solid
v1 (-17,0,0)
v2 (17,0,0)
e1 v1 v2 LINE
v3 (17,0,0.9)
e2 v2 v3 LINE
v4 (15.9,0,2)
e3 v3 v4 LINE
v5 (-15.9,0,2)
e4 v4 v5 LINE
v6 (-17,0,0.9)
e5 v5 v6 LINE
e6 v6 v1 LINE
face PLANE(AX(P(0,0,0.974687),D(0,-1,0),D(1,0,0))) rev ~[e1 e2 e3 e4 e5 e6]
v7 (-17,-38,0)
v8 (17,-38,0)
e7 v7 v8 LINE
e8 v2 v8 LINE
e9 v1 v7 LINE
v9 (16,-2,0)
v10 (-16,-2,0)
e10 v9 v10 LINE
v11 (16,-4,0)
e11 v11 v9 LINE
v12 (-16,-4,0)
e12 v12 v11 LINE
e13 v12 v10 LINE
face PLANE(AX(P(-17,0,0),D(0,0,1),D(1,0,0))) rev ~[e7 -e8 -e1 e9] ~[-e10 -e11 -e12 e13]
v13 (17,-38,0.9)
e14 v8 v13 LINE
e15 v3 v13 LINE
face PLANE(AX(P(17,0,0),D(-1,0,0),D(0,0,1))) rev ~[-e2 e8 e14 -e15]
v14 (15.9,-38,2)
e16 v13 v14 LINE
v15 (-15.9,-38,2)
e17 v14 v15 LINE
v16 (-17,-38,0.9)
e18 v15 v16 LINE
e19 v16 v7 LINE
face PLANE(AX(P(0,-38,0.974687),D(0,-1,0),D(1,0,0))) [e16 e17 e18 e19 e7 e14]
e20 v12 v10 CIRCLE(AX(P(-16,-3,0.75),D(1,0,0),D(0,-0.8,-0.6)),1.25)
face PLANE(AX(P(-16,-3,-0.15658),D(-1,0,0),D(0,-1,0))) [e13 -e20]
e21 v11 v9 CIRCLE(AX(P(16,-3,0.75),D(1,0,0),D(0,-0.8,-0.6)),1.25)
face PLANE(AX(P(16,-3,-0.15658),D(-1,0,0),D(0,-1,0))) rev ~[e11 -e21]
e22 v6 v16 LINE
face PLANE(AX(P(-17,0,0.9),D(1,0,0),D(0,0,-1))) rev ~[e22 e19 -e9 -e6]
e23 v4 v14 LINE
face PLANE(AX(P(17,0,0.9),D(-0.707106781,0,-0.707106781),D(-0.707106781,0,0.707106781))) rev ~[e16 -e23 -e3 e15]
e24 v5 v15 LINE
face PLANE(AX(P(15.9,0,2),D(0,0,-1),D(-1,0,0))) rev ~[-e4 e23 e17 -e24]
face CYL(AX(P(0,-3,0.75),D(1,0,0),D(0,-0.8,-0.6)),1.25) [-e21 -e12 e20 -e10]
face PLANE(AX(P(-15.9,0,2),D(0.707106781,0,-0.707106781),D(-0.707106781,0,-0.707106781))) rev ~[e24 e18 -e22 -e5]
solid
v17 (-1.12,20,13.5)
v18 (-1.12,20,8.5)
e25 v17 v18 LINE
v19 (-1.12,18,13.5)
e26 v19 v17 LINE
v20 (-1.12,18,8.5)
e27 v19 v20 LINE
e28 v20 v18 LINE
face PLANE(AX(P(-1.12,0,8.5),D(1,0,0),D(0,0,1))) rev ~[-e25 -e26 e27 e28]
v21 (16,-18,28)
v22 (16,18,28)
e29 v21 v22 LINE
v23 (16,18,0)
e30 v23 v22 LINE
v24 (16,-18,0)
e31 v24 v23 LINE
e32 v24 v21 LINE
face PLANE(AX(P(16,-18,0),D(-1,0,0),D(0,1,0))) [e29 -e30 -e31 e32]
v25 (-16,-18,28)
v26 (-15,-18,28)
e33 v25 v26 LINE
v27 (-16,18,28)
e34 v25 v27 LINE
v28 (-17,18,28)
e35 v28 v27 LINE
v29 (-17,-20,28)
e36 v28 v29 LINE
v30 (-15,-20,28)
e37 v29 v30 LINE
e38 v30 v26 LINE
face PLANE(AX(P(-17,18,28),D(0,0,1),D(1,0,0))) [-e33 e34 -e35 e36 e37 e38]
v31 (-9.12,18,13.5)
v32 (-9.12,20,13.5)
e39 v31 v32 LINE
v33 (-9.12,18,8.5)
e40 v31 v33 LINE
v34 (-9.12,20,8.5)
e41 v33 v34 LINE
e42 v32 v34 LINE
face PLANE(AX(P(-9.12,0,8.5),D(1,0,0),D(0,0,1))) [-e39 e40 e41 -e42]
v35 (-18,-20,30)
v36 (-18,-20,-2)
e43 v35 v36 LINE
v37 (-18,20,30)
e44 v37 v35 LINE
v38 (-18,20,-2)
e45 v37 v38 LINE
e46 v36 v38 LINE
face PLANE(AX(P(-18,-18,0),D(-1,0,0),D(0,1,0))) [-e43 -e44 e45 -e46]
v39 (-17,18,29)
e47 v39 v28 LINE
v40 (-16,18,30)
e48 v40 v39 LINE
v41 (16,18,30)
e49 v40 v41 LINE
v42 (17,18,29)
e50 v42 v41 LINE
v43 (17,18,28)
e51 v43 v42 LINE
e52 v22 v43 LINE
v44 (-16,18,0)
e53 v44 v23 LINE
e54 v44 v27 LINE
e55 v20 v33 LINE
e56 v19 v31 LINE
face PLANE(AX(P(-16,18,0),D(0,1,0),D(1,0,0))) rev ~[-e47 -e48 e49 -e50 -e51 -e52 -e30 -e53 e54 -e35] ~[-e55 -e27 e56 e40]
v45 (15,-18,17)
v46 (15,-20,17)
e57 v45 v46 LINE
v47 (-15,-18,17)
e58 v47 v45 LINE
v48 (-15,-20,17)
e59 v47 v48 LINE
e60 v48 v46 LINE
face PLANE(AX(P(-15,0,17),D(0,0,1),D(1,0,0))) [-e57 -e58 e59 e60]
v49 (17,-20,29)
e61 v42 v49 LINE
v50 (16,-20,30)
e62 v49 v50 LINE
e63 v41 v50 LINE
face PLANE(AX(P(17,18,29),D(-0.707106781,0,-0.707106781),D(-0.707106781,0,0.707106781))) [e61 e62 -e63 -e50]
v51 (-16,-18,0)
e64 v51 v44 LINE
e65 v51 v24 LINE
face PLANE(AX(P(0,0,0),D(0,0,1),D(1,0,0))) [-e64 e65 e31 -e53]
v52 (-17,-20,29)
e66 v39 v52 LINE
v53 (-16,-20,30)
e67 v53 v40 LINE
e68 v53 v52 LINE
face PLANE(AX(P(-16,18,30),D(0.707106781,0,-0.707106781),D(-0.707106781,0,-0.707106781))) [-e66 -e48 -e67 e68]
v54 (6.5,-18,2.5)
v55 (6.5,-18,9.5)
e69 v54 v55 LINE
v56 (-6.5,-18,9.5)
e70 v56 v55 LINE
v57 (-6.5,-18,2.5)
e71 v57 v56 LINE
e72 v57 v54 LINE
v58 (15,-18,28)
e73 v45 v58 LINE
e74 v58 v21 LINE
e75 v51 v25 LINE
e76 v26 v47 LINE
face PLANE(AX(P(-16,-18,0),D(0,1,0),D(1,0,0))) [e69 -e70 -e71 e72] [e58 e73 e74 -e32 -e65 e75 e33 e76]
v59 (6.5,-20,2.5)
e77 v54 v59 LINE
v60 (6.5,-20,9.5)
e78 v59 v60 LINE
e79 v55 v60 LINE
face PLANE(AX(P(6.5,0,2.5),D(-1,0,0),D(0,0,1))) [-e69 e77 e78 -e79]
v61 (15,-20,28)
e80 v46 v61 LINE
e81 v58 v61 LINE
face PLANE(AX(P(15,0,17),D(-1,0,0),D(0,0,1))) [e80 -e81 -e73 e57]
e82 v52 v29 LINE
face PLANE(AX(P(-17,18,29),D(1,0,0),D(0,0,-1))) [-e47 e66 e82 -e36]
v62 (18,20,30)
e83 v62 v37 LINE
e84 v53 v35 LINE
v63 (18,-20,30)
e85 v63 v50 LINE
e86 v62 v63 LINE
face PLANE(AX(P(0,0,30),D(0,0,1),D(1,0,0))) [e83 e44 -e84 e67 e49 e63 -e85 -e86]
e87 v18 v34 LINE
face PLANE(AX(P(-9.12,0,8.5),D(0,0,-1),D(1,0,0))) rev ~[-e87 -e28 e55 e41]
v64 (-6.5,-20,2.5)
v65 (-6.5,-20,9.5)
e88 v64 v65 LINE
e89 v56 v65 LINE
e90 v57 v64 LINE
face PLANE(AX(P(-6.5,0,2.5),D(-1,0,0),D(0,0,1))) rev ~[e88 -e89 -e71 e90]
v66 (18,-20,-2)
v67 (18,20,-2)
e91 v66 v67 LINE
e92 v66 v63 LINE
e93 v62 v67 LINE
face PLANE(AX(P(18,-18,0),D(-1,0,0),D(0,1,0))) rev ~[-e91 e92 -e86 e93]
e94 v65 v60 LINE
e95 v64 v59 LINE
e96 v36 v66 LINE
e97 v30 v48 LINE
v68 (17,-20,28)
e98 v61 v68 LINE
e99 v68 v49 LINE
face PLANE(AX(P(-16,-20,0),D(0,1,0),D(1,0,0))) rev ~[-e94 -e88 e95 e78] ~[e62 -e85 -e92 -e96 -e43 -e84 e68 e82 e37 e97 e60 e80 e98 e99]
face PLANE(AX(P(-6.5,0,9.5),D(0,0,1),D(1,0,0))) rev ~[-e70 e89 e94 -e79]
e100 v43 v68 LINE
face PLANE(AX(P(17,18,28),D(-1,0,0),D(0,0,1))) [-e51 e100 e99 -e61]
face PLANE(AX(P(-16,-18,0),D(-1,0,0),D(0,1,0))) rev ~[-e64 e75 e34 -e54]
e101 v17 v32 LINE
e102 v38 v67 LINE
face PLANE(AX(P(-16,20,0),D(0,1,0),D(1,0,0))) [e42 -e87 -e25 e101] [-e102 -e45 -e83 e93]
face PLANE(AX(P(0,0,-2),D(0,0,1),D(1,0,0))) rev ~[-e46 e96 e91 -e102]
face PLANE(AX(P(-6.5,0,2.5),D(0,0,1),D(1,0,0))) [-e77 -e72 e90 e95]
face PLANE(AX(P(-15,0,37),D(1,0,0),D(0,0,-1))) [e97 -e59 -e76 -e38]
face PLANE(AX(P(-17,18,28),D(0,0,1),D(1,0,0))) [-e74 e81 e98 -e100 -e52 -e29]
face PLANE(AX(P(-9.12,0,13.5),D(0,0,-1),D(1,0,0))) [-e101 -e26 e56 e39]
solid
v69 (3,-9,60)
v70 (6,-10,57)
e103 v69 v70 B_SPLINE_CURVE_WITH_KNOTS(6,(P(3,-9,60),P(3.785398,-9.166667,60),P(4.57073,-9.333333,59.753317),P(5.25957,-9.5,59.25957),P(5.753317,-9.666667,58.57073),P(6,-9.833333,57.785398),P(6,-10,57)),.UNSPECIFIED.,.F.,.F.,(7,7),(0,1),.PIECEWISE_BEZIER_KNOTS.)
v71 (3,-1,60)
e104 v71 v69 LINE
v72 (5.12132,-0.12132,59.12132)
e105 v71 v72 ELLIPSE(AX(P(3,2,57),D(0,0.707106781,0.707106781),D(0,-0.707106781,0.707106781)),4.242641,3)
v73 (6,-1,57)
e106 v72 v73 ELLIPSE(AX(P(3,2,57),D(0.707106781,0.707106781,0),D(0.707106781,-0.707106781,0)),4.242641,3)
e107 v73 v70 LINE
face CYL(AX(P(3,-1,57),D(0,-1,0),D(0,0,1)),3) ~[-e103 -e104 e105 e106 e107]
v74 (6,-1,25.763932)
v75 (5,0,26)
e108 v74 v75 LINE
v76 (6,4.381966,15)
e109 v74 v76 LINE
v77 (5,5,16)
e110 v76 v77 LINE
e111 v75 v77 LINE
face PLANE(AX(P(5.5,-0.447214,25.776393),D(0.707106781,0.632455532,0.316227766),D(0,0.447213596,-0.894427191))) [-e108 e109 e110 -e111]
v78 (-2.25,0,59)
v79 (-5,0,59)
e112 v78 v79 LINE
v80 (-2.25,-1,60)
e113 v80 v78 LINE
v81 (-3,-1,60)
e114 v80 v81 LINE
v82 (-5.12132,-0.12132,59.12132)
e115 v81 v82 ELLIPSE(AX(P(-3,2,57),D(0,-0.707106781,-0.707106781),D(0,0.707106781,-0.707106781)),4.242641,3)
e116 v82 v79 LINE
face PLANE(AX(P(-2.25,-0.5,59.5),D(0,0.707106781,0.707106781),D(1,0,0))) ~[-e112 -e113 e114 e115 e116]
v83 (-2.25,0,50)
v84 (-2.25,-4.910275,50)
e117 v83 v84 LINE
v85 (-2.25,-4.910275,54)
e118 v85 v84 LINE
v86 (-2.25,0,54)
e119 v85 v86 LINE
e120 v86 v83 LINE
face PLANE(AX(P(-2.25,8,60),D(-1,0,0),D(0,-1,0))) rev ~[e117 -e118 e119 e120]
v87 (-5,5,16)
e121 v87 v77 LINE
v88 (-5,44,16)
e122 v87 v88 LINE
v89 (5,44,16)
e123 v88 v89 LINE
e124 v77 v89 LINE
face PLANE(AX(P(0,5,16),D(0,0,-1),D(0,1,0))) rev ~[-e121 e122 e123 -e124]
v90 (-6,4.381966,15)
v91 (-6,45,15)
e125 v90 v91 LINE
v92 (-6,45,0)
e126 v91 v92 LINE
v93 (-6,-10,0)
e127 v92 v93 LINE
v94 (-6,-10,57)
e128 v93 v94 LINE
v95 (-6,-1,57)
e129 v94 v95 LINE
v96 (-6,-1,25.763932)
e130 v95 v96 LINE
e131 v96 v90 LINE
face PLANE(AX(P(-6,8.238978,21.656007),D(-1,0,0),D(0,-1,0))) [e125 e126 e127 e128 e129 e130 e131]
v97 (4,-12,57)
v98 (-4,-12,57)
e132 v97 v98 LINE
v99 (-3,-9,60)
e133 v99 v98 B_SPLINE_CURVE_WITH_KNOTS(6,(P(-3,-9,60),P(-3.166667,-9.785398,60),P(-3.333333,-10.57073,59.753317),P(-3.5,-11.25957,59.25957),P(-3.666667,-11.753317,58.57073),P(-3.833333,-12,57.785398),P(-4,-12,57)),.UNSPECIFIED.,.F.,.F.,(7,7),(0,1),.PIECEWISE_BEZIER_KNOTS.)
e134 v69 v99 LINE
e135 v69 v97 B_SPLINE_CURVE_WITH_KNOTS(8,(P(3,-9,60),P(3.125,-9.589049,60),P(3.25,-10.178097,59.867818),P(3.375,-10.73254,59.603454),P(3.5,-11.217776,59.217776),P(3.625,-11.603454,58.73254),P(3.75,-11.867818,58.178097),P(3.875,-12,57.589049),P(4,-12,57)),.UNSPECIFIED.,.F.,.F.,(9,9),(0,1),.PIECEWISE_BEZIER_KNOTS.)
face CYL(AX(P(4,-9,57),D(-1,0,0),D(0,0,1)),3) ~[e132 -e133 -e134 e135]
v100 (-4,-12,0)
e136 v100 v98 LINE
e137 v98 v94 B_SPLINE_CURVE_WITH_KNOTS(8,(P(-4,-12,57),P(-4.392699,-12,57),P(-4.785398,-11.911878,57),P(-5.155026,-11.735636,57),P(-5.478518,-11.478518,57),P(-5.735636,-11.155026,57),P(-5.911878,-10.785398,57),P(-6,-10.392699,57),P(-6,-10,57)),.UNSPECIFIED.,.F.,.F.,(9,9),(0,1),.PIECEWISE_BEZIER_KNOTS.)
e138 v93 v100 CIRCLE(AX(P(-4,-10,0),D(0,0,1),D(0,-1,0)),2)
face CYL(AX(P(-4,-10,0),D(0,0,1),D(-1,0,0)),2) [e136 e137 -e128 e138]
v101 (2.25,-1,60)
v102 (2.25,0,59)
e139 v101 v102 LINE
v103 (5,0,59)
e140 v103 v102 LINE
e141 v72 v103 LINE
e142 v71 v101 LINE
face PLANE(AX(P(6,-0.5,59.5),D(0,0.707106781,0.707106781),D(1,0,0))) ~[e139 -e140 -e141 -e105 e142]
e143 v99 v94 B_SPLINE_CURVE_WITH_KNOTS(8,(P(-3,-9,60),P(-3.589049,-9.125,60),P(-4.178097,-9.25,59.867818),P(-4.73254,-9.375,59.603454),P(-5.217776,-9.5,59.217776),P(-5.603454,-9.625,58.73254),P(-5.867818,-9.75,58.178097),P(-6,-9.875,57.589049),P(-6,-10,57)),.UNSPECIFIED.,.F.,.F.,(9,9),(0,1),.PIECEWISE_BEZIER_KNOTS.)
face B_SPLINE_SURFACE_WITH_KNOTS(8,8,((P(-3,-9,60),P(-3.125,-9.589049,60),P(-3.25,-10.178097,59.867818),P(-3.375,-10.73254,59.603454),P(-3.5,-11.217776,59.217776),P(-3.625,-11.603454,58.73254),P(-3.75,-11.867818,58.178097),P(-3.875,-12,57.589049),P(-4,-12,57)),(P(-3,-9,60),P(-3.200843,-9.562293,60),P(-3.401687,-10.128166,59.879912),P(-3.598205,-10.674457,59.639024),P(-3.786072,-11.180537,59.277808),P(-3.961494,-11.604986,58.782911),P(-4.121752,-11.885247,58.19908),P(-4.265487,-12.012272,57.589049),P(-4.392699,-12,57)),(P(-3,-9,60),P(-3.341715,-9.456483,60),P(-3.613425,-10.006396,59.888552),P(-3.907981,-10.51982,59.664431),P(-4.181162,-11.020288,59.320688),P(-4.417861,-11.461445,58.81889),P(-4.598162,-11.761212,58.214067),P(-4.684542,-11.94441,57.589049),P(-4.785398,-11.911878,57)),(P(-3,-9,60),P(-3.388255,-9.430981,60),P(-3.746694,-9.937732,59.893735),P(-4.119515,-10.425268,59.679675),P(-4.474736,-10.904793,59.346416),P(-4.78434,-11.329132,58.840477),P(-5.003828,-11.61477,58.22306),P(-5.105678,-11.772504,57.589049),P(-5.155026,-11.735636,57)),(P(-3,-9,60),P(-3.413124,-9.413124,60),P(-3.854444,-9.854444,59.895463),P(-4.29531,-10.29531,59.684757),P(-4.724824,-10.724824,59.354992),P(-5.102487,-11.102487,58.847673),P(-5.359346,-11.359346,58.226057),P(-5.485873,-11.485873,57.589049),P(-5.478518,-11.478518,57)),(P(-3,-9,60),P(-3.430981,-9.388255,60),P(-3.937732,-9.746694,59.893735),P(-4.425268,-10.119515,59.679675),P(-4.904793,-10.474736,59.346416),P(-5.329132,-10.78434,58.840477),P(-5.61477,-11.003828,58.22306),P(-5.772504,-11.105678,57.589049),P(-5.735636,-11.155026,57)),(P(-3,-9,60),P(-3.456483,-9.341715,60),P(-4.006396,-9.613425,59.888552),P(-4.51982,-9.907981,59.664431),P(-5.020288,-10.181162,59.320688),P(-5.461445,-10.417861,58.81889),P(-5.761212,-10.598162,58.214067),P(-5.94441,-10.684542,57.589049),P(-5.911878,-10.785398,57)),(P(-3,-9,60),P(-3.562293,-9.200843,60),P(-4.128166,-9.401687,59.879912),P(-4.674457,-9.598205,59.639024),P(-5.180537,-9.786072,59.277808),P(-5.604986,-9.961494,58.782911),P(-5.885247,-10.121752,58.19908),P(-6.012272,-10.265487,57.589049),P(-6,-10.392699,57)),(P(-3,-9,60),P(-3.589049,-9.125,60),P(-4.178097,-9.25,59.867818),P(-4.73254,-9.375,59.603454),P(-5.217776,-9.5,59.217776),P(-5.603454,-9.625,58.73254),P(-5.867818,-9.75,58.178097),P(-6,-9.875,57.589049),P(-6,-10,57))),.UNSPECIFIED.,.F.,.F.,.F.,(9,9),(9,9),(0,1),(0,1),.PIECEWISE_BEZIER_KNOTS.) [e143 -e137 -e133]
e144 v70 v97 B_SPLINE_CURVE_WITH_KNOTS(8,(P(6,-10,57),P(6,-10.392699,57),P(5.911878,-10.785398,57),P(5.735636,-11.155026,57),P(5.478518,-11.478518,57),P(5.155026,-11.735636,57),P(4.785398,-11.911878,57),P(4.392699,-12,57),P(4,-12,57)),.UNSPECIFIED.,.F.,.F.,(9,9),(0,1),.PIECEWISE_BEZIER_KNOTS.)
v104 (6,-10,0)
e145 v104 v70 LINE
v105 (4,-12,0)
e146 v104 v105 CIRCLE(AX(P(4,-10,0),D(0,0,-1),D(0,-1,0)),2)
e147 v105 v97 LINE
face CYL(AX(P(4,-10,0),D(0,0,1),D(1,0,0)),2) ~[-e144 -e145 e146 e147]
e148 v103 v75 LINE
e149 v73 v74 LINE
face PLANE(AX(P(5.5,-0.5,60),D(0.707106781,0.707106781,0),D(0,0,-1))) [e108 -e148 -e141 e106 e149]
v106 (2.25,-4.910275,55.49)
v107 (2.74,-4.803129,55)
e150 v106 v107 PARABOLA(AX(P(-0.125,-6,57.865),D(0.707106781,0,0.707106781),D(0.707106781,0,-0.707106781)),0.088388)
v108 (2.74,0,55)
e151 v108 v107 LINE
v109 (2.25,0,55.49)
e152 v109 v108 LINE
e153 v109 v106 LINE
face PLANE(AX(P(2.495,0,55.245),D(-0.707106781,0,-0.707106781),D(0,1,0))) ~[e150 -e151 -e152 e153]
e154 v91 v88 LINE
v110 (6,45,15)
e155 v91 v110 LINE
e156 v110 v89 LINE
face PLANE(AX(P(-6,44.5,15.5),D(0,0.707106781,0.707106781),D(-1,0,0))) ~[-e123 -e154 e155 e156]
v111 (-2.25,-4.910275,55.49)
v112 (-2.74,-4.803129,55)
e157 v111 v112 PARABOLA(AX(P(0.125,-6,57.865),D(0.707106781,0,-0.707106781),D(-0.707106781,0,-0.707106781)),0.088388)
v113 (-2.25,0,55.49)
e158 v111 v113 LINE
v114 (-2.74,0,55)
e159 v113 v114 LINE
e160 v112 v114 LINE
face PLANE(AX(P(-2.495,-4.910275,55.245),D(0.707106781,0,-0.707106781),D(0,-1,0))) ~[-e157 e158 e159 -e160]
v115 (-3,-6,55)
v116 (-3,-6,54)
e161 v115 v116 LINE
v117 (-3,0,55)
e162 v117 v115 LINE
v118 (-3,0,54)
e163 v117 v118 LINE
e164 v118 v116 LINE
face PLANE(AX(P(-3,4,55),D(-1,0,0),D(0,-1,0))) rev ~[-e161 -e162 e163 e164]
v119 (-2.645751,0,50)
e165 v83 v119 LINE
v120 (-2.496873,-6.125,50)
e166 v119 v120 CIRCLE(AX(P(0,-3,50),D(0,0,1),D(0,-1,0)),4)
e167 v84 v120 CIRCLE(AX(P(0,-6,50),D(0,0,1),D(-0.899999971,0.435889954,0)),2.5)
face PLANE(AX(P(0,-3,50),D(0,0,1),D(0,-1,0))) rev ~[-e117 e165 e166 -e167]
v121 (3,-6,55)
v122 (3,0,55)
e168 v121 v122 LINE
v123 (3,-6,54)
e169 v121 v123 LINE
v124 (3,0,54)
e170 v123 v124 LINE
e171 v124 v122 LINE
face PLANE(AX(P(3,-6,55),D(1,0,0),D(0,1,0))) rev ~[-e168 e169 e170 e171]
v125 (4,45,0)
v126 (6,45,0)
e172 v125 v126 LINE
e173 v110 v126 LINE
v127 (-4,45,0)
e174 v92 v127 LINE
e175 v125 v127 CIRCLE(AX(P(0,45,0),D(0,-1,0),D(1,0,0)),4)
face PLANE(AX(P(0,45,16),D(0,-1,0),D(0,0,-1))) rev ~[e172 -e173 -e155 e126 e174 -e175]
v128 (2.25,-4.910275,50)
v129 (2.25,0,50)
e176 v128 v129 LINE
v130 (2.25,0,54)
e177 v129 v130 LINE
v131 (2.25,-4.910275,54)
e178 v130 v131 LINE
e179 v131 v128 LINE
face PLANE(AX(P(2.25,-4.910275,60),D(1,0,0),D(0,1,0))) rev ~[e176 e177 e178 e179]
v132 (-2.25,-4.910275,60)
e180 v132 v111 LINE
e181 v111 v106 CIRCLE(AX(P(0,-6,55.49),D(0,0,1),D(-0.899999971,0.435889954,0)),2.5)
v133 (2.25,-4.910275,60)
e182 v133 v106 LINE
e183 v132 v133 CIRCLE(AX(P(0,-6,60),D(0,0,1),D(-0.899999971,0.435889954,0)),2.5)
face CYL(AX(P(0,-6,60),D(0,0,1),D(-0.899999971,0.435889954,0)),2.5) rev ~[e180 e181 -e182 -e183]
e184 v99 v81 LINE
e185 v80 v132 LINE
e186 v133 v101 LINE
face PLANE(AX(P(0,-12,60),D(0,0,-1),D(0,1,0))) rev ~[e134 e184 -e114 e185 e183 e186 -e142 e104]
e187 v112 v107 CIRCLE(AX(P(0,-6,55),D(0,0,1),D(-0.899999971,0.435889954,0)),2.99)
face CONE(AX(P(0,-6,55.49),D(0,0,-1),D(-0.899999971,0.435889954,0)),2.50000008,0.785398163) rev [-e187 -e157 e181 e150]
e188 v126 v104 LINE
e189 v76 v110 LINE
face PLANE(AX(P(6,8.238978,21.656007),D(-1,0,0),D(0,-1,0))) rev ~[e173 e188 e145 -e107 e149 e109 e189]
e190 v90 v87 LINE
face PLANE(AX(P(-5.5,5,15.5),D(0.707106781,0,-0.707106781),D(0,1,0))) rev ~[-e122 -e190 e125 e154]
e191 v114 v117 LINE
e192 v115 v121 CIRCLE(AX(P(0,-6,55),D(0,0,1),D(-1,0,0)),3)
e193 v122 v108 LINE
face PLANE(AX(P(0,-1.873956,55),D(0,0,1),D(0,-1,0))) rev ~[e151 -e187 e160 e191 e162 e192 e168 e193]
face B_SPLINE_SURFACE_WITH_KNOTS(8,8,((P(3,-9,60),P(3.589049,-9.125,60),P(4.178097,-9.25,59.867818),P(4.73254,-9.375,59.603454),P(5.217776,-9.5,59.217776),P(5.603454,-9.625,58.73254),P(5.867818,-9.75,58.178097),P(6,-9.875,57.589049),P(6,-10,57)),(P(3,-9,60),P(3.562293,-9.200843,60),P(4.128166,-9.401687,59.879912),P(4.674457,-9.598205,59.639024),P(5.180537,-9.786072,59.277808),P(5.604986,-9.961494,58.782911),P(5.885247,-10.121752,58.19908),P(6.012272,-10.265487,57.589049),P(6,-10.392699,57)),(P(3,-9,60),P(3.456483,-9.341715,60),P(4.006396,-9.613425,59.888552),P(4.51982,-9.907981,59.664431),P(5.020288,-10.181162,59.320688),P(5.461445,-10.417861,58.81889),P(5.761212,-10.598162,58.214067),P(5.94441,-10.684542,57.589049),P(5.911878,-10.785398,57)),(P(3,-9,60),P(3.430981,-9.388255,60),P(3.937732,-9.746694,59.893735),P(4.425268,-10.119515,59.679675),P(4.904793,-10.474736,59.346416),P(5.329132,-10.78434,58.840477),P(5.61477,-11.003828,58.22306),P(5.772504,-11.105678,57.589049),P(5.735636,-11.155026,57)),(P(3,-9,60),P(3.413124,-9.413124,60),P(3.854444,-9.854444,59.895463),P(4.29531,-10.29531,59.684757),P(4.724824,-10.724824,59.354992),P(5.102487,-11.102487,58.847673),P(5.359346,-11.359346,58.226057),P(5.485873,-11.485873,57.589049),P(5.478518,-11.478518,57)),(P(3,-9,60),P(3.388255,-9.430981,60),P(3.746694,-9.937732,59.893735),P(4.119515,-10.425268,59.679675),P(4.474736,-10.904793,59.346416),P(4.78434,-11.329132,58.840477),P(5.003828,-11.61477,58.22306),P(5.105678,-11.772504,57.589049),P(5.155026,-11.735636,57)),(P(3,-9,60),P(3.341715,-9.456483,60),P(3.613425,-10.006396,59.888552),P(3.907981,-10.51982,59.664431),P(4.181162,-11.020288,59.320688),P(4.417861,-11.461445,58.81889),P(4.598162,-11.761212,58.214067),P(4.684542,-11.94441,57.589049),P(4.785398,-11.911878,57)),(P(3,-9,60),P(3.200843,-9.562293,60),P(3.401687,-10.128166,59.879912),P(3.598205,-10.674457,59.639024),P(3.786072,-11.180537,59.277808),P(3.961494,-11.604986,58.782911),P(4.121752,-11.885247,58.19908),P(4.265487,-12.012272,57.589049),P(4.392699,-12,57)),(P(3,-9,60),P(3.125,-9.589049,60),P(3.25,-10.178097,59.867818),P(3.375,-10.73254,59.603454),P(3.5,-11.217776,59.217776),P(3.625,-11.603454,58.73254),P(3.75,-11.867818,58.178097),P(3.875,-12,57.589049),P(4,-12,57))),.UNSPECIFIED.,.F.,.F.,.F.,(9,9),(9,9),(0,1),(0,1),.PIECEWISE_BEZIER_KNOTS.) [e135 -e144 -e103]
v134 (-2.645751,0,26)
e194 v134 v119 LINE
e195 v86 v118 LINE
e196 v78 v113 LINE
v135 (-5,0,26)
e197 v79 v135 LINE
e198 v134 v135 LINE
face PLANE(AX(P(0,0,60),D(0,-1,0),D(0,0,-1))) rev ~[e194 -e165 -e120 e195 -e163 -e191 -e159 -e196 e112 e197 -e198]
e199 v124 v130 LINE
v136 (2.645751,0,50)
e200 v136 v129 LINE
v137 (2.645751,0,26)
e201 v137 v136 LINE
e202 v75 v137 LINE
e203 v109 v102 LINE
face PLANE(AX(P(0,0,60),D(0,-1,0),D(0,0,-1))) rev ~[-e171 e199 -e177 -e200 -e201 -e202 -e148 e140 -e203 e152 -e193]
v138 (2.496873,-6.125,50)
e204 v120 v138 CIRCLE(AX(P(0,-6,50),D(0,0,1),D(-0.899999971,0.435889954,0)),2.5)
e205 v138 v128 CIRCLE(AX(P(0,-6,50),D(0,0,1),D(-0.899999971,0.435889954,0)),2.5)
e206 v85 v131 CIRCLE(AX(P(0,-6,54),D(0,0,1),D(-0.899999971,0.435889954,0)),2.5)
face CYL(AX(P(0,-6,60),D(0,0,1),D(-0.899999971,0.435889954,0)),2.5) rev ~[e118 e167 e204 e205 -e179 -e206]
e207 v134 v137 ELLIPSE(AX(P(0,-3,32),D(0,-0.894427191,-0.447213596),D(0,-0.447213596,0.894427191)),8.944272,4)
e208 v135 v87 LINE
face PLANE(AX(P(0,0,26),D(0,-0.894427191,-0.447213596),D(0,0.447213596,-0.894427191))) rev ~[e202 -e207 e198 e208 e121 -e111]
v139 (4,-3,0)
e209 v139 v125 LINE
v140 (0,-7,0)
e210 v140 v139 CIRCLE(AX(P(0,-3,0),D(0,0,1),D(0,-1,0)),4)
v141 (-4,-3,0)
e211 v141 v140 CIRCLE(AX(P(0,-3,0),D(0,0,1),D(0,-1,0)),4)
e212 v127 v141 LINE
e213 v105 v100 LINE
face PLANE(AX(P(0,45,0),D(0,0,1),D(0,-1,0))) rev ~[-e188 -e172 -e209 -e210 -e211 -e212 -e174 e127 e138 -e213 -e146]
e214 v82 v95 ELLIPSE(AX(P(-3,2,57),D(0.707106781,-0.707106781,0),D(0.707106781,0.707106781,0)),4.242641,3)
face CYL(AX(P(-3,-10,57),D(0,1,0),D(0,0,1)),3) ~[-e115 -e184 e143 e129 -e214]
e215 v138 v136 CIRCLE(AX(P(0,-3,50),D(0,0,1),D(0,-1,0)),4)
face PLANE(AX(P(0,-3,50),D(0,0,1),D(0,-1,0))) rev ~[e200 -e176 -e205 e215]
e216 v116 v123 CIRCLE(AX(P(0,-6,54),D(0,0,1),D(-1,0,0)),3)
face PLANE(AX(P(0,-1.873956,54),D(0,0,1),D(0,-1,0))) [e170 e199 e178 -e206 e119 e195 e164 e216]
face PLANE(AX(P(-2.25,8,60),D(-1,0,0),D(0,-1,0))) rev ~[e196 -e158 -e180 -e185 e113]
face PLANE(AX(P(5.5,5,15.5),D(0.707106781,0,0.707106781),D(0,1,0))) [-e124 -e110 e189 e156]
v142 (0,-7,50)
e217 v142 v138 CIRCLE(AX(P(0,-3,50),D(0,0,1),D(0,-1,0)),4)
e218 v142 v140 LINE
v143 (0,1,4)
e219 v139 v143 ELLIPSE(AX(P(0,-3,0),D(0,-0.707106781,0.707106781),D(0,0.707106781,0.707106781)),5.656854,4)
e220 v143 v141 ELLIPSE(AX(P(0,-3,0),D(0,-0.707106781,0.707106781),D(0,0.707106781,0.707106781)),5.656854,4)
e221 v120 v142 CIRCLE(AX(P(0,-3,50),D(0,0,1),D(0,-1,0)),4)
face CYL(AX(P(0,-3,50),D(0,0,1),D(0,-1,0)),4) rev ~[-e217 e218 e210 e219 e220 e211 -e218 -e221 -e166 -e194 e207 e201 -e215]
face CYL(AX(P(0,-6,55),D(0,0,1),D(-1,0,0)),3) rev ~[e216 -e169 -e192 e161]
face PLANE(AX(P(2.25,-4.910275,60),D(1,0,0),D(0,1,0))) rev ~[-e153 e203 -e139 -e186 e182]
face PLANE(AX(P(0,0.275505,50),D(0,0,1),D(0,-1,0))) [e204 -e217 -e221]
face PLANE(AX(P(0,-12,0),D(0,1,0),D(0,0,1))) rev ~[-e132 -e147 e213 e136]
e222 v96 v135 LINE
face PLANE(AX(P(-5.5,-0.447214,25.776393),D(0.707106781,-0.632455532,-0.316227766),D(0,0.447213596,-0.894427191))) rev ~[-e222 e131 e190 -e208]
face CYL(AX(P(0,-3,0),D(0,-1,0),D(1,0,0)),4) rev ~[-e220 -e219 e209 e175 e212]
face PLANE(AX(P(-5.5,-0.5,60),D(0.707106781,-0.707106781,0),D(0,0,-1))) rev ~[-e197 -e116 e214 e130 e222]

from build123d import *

# Parameters (mm, degrees)
PAD_DEPTH       = 6
POCKET_DEPTH    = 10
POCKET001_DEPTH = 1
SKETCH003_R     = 4
POCKET002_DEPTH = 50.001
SKETCH004_R     = 4
POCKET003_DEPTH = 48.001
CHAMFER_SIZE    = 1
FILLET_R        = 2
FILLET001_R     = 3
CHAMFER001_SIZE = 0.49
SKETCH005_W     = 32
SKETCH005_H     = 36
PAD001_DEPTH    = 30
THICKNESS_T     = 2
SKETCH006_W     = 13
SKETCH006_H     = 7
POCKET004_DEPTH = 20.001
SKETCH007_W     = 8
SKETCH007_H     = 5
POCKET005_DEPTH = 20.001
POCKET006_START = -2
POCKET006_DEPTH = 98
SKETCH012_W     = 30
SKETCH012_H     = 10
POCKET007_DEPTH = 20.001
PAD003_DEPTH    = 38
PAD004_DEPTH    = 16


with BuildPart() as body:
    # Sketch → Pad (new body, symmetric)
    with BuildSketch(Plane.YZ):
        Polygon((45, 0), (-12, 0), (-12, 60), (0, 60), (0, 26), (5, 16), (45, 16), align=None)
    extrude(amount=PAD_DEPTH, both=True)

    # Sketch001 (on Face3 of Pad) → Pocket (cut)
    with BuildSketch(Plane(origin=(0, 0, 60), x_dir=(0, -1, 0), z_dir=(0, 0, 1))):
        with BuildLine():
            Line((-8, 2.25), (-8, -2.25))
            Line((-8, -2.25), (4.910275, -2.25))
            ThreePointArc((4.910275, -2.25), (8.5, 0), (4.910275, 2.25))
            Line((4.910275, 2.25), (-8, 2.25))
        make_face()
    extrude(amount=-POCKET_DEPTH, mode=Mode.SUBTRACT)

    # Sketch002 (on Face3 of Pad) → Pocket001 (cut)
    with BuildSketch(Plane(origin=(0, 0, 55), x_dir=(0, -1, 0), z_dir=(0, 0, 1))):
        with BuildLine():
            Line((-4, 3), (-4, -3))
            Line((-4, -3), (6, -3))
            ThreePointArc((6, -3), (9, 0), (6, 3))
            Line((6, 3), (-4, 3))
        make_face()
    extrude(amount=-POCKET001_DEPTH, mode=Mode.SUBTRACT)

    # Sketch003 (on Face3 of Pad) → Pocket002 (cut, through all)
    with BuildSketch(Plane(origin=(0, 0, 50), x_dir=(0, -1, 0), z_dir=(0, 0, 1))):
        with Locations((3, 0)):
            Circle(SKETCH003_R)
    extrude(amount=-POCKET002_DEPTH, mode=Mode.SUBTRACT)

    # Sketch004 → Pocket003 (cut, through all)
    with BuildSketch(Plane.XZ.offset(3)):
        Circle(SKETCH004_R)
    extrude(amount=-POCKET003_DEPTH, mode=Mode.SUBTRACT)

    # Chamfer
    chamfer_edges = [body.edges().sort_by_distance(p)[0] for p in [
        (6, 25, 16),
        (-6, 25, 16),
        (0, 45, 16),
        (6, 2.5, 21),
        (-6, 2.5, 21),
        (6, 0, 43),
        (-6, 0, 43),
        (4.125, 0, 60),
        (-4.125, 0, 60),
    ]]
    chamfer(chamfer_edges, length=CHAMFER_SIZE)

    # Fillet
    fillet_edges = [body.edges().sort_by_distance(p)[0] for p in [
        (-6, -12, 30),
        (6, -12, 30),
    ]]
    fillet(fillet_edges, radius=FILLET_R)

    # Fillet001
    fillet001_edges = [body.edges().sort_by_distance(p)[0] for p in [
        (0, -12, 60),
        (6, -5.5, 60),
        (-6, -5.5, 60),
    ]]
    fillet(fillet001_edges, radius=FILLET001_R)

    # Chamfer001
    chamfer001_edges = [body.edges().sort_by_distance(p)[0] for p in [
        (0, -8.5, 55),
        (-2.25, -2.455138, 55),
        (2.25, -2.455138, 55),
    ]]
    chamfer(chamfer001_edges, length=CHAMFER001_SIZE)


with BuildPart() as boxbody:
    # Sketch005 → Pad001 (new body)
    with BuildSketch(Plane.XY):
        Rectangle(SKETCH005_W, SKETCH005_H)
    extrude(amount=PAD001_DEPTH)

    # Thickness
    thickness_openings = [boxbody.faces().sort_by_distance(p)[0] for p in [
        (0, 0, 30),
    ]]
    offset(amount=THICKNESS_T, openings=thickness_openings, kind=Kind.INTERSECTION)

    # Sketch006 → Pocket004 (cut, through all)
    with BuildSketch(Plane.XZ):
        with Locations((0, 6)):
            Rectangle(SKETCH006_W, SKETCH006_H)
    extrude(amount=POCKET004_DEPTH, mode=Mode.SUBTRACT)

    # Sketch007 → Pocket005 (cut, through all)
    with BuildSketch(Plane.XZ):
        with Locations((-5.12, 11)):
            Rectangle(SKETCH007_W, SKETCH007_H)
    extrude(amount=-POCKET005_DEPTH, mode=Mode.SUBTRACT)

    # Sketch008 (on Face11 of Pocket005) → Pocket006 (cut)
    with BuildSketch(Plane(origin=(0, 20, 0), x_dir=(-1, 0, 0), z_dir=(0, 1, 0)).offset(POCKET006_START)):
        Polygon((-16, 30), (16, 30), (17, 29), (17, 28), (-17, 28), (-17, 29), align=None)
    extrude(amount=-POCKET006_DEPTH, mode=Mode.SUBTRACT)

    # Sketch012 → Pocket007 (cut, through all)
    with BuildSketch(Plane.XZ):
        with Locations((0, 22)):
            Rectangle(SKETCH012_W, SKETCH012_H)
        with Locations((0, 32)):
            Rectangle(SKETCH012_W, SKETCH012_H)
    extrude(amount=POCKET007_DEPTH, mode=Mode.SUBTRACT)


with BuildPart() as coverbody:
    # Sketch010 → Pad003 (new body)
    with BuildSketch(Plane.XZ):
        Polygon((-17, 0), (17, 0), (17, 0.9), (15.9, 2), (-15.9, 2), (-17, 0.9), align=None)
    extrude(amount=PAD003_DEPTH)

    # Sketch011 → Pad004 (join, symmetric)
    with BuildSketch(Plane.YZ):
        with BuildLine():
            Line((-4, 0), (-2, 0))
            ThreePointArc((-4, 0), (-3, -0.5), (-2, 0))
        make_face()
    extrude(amount=PAD004_DEPTH, both=True)


solid = Compound([body.part, boxbody.part, coverbody.part])
